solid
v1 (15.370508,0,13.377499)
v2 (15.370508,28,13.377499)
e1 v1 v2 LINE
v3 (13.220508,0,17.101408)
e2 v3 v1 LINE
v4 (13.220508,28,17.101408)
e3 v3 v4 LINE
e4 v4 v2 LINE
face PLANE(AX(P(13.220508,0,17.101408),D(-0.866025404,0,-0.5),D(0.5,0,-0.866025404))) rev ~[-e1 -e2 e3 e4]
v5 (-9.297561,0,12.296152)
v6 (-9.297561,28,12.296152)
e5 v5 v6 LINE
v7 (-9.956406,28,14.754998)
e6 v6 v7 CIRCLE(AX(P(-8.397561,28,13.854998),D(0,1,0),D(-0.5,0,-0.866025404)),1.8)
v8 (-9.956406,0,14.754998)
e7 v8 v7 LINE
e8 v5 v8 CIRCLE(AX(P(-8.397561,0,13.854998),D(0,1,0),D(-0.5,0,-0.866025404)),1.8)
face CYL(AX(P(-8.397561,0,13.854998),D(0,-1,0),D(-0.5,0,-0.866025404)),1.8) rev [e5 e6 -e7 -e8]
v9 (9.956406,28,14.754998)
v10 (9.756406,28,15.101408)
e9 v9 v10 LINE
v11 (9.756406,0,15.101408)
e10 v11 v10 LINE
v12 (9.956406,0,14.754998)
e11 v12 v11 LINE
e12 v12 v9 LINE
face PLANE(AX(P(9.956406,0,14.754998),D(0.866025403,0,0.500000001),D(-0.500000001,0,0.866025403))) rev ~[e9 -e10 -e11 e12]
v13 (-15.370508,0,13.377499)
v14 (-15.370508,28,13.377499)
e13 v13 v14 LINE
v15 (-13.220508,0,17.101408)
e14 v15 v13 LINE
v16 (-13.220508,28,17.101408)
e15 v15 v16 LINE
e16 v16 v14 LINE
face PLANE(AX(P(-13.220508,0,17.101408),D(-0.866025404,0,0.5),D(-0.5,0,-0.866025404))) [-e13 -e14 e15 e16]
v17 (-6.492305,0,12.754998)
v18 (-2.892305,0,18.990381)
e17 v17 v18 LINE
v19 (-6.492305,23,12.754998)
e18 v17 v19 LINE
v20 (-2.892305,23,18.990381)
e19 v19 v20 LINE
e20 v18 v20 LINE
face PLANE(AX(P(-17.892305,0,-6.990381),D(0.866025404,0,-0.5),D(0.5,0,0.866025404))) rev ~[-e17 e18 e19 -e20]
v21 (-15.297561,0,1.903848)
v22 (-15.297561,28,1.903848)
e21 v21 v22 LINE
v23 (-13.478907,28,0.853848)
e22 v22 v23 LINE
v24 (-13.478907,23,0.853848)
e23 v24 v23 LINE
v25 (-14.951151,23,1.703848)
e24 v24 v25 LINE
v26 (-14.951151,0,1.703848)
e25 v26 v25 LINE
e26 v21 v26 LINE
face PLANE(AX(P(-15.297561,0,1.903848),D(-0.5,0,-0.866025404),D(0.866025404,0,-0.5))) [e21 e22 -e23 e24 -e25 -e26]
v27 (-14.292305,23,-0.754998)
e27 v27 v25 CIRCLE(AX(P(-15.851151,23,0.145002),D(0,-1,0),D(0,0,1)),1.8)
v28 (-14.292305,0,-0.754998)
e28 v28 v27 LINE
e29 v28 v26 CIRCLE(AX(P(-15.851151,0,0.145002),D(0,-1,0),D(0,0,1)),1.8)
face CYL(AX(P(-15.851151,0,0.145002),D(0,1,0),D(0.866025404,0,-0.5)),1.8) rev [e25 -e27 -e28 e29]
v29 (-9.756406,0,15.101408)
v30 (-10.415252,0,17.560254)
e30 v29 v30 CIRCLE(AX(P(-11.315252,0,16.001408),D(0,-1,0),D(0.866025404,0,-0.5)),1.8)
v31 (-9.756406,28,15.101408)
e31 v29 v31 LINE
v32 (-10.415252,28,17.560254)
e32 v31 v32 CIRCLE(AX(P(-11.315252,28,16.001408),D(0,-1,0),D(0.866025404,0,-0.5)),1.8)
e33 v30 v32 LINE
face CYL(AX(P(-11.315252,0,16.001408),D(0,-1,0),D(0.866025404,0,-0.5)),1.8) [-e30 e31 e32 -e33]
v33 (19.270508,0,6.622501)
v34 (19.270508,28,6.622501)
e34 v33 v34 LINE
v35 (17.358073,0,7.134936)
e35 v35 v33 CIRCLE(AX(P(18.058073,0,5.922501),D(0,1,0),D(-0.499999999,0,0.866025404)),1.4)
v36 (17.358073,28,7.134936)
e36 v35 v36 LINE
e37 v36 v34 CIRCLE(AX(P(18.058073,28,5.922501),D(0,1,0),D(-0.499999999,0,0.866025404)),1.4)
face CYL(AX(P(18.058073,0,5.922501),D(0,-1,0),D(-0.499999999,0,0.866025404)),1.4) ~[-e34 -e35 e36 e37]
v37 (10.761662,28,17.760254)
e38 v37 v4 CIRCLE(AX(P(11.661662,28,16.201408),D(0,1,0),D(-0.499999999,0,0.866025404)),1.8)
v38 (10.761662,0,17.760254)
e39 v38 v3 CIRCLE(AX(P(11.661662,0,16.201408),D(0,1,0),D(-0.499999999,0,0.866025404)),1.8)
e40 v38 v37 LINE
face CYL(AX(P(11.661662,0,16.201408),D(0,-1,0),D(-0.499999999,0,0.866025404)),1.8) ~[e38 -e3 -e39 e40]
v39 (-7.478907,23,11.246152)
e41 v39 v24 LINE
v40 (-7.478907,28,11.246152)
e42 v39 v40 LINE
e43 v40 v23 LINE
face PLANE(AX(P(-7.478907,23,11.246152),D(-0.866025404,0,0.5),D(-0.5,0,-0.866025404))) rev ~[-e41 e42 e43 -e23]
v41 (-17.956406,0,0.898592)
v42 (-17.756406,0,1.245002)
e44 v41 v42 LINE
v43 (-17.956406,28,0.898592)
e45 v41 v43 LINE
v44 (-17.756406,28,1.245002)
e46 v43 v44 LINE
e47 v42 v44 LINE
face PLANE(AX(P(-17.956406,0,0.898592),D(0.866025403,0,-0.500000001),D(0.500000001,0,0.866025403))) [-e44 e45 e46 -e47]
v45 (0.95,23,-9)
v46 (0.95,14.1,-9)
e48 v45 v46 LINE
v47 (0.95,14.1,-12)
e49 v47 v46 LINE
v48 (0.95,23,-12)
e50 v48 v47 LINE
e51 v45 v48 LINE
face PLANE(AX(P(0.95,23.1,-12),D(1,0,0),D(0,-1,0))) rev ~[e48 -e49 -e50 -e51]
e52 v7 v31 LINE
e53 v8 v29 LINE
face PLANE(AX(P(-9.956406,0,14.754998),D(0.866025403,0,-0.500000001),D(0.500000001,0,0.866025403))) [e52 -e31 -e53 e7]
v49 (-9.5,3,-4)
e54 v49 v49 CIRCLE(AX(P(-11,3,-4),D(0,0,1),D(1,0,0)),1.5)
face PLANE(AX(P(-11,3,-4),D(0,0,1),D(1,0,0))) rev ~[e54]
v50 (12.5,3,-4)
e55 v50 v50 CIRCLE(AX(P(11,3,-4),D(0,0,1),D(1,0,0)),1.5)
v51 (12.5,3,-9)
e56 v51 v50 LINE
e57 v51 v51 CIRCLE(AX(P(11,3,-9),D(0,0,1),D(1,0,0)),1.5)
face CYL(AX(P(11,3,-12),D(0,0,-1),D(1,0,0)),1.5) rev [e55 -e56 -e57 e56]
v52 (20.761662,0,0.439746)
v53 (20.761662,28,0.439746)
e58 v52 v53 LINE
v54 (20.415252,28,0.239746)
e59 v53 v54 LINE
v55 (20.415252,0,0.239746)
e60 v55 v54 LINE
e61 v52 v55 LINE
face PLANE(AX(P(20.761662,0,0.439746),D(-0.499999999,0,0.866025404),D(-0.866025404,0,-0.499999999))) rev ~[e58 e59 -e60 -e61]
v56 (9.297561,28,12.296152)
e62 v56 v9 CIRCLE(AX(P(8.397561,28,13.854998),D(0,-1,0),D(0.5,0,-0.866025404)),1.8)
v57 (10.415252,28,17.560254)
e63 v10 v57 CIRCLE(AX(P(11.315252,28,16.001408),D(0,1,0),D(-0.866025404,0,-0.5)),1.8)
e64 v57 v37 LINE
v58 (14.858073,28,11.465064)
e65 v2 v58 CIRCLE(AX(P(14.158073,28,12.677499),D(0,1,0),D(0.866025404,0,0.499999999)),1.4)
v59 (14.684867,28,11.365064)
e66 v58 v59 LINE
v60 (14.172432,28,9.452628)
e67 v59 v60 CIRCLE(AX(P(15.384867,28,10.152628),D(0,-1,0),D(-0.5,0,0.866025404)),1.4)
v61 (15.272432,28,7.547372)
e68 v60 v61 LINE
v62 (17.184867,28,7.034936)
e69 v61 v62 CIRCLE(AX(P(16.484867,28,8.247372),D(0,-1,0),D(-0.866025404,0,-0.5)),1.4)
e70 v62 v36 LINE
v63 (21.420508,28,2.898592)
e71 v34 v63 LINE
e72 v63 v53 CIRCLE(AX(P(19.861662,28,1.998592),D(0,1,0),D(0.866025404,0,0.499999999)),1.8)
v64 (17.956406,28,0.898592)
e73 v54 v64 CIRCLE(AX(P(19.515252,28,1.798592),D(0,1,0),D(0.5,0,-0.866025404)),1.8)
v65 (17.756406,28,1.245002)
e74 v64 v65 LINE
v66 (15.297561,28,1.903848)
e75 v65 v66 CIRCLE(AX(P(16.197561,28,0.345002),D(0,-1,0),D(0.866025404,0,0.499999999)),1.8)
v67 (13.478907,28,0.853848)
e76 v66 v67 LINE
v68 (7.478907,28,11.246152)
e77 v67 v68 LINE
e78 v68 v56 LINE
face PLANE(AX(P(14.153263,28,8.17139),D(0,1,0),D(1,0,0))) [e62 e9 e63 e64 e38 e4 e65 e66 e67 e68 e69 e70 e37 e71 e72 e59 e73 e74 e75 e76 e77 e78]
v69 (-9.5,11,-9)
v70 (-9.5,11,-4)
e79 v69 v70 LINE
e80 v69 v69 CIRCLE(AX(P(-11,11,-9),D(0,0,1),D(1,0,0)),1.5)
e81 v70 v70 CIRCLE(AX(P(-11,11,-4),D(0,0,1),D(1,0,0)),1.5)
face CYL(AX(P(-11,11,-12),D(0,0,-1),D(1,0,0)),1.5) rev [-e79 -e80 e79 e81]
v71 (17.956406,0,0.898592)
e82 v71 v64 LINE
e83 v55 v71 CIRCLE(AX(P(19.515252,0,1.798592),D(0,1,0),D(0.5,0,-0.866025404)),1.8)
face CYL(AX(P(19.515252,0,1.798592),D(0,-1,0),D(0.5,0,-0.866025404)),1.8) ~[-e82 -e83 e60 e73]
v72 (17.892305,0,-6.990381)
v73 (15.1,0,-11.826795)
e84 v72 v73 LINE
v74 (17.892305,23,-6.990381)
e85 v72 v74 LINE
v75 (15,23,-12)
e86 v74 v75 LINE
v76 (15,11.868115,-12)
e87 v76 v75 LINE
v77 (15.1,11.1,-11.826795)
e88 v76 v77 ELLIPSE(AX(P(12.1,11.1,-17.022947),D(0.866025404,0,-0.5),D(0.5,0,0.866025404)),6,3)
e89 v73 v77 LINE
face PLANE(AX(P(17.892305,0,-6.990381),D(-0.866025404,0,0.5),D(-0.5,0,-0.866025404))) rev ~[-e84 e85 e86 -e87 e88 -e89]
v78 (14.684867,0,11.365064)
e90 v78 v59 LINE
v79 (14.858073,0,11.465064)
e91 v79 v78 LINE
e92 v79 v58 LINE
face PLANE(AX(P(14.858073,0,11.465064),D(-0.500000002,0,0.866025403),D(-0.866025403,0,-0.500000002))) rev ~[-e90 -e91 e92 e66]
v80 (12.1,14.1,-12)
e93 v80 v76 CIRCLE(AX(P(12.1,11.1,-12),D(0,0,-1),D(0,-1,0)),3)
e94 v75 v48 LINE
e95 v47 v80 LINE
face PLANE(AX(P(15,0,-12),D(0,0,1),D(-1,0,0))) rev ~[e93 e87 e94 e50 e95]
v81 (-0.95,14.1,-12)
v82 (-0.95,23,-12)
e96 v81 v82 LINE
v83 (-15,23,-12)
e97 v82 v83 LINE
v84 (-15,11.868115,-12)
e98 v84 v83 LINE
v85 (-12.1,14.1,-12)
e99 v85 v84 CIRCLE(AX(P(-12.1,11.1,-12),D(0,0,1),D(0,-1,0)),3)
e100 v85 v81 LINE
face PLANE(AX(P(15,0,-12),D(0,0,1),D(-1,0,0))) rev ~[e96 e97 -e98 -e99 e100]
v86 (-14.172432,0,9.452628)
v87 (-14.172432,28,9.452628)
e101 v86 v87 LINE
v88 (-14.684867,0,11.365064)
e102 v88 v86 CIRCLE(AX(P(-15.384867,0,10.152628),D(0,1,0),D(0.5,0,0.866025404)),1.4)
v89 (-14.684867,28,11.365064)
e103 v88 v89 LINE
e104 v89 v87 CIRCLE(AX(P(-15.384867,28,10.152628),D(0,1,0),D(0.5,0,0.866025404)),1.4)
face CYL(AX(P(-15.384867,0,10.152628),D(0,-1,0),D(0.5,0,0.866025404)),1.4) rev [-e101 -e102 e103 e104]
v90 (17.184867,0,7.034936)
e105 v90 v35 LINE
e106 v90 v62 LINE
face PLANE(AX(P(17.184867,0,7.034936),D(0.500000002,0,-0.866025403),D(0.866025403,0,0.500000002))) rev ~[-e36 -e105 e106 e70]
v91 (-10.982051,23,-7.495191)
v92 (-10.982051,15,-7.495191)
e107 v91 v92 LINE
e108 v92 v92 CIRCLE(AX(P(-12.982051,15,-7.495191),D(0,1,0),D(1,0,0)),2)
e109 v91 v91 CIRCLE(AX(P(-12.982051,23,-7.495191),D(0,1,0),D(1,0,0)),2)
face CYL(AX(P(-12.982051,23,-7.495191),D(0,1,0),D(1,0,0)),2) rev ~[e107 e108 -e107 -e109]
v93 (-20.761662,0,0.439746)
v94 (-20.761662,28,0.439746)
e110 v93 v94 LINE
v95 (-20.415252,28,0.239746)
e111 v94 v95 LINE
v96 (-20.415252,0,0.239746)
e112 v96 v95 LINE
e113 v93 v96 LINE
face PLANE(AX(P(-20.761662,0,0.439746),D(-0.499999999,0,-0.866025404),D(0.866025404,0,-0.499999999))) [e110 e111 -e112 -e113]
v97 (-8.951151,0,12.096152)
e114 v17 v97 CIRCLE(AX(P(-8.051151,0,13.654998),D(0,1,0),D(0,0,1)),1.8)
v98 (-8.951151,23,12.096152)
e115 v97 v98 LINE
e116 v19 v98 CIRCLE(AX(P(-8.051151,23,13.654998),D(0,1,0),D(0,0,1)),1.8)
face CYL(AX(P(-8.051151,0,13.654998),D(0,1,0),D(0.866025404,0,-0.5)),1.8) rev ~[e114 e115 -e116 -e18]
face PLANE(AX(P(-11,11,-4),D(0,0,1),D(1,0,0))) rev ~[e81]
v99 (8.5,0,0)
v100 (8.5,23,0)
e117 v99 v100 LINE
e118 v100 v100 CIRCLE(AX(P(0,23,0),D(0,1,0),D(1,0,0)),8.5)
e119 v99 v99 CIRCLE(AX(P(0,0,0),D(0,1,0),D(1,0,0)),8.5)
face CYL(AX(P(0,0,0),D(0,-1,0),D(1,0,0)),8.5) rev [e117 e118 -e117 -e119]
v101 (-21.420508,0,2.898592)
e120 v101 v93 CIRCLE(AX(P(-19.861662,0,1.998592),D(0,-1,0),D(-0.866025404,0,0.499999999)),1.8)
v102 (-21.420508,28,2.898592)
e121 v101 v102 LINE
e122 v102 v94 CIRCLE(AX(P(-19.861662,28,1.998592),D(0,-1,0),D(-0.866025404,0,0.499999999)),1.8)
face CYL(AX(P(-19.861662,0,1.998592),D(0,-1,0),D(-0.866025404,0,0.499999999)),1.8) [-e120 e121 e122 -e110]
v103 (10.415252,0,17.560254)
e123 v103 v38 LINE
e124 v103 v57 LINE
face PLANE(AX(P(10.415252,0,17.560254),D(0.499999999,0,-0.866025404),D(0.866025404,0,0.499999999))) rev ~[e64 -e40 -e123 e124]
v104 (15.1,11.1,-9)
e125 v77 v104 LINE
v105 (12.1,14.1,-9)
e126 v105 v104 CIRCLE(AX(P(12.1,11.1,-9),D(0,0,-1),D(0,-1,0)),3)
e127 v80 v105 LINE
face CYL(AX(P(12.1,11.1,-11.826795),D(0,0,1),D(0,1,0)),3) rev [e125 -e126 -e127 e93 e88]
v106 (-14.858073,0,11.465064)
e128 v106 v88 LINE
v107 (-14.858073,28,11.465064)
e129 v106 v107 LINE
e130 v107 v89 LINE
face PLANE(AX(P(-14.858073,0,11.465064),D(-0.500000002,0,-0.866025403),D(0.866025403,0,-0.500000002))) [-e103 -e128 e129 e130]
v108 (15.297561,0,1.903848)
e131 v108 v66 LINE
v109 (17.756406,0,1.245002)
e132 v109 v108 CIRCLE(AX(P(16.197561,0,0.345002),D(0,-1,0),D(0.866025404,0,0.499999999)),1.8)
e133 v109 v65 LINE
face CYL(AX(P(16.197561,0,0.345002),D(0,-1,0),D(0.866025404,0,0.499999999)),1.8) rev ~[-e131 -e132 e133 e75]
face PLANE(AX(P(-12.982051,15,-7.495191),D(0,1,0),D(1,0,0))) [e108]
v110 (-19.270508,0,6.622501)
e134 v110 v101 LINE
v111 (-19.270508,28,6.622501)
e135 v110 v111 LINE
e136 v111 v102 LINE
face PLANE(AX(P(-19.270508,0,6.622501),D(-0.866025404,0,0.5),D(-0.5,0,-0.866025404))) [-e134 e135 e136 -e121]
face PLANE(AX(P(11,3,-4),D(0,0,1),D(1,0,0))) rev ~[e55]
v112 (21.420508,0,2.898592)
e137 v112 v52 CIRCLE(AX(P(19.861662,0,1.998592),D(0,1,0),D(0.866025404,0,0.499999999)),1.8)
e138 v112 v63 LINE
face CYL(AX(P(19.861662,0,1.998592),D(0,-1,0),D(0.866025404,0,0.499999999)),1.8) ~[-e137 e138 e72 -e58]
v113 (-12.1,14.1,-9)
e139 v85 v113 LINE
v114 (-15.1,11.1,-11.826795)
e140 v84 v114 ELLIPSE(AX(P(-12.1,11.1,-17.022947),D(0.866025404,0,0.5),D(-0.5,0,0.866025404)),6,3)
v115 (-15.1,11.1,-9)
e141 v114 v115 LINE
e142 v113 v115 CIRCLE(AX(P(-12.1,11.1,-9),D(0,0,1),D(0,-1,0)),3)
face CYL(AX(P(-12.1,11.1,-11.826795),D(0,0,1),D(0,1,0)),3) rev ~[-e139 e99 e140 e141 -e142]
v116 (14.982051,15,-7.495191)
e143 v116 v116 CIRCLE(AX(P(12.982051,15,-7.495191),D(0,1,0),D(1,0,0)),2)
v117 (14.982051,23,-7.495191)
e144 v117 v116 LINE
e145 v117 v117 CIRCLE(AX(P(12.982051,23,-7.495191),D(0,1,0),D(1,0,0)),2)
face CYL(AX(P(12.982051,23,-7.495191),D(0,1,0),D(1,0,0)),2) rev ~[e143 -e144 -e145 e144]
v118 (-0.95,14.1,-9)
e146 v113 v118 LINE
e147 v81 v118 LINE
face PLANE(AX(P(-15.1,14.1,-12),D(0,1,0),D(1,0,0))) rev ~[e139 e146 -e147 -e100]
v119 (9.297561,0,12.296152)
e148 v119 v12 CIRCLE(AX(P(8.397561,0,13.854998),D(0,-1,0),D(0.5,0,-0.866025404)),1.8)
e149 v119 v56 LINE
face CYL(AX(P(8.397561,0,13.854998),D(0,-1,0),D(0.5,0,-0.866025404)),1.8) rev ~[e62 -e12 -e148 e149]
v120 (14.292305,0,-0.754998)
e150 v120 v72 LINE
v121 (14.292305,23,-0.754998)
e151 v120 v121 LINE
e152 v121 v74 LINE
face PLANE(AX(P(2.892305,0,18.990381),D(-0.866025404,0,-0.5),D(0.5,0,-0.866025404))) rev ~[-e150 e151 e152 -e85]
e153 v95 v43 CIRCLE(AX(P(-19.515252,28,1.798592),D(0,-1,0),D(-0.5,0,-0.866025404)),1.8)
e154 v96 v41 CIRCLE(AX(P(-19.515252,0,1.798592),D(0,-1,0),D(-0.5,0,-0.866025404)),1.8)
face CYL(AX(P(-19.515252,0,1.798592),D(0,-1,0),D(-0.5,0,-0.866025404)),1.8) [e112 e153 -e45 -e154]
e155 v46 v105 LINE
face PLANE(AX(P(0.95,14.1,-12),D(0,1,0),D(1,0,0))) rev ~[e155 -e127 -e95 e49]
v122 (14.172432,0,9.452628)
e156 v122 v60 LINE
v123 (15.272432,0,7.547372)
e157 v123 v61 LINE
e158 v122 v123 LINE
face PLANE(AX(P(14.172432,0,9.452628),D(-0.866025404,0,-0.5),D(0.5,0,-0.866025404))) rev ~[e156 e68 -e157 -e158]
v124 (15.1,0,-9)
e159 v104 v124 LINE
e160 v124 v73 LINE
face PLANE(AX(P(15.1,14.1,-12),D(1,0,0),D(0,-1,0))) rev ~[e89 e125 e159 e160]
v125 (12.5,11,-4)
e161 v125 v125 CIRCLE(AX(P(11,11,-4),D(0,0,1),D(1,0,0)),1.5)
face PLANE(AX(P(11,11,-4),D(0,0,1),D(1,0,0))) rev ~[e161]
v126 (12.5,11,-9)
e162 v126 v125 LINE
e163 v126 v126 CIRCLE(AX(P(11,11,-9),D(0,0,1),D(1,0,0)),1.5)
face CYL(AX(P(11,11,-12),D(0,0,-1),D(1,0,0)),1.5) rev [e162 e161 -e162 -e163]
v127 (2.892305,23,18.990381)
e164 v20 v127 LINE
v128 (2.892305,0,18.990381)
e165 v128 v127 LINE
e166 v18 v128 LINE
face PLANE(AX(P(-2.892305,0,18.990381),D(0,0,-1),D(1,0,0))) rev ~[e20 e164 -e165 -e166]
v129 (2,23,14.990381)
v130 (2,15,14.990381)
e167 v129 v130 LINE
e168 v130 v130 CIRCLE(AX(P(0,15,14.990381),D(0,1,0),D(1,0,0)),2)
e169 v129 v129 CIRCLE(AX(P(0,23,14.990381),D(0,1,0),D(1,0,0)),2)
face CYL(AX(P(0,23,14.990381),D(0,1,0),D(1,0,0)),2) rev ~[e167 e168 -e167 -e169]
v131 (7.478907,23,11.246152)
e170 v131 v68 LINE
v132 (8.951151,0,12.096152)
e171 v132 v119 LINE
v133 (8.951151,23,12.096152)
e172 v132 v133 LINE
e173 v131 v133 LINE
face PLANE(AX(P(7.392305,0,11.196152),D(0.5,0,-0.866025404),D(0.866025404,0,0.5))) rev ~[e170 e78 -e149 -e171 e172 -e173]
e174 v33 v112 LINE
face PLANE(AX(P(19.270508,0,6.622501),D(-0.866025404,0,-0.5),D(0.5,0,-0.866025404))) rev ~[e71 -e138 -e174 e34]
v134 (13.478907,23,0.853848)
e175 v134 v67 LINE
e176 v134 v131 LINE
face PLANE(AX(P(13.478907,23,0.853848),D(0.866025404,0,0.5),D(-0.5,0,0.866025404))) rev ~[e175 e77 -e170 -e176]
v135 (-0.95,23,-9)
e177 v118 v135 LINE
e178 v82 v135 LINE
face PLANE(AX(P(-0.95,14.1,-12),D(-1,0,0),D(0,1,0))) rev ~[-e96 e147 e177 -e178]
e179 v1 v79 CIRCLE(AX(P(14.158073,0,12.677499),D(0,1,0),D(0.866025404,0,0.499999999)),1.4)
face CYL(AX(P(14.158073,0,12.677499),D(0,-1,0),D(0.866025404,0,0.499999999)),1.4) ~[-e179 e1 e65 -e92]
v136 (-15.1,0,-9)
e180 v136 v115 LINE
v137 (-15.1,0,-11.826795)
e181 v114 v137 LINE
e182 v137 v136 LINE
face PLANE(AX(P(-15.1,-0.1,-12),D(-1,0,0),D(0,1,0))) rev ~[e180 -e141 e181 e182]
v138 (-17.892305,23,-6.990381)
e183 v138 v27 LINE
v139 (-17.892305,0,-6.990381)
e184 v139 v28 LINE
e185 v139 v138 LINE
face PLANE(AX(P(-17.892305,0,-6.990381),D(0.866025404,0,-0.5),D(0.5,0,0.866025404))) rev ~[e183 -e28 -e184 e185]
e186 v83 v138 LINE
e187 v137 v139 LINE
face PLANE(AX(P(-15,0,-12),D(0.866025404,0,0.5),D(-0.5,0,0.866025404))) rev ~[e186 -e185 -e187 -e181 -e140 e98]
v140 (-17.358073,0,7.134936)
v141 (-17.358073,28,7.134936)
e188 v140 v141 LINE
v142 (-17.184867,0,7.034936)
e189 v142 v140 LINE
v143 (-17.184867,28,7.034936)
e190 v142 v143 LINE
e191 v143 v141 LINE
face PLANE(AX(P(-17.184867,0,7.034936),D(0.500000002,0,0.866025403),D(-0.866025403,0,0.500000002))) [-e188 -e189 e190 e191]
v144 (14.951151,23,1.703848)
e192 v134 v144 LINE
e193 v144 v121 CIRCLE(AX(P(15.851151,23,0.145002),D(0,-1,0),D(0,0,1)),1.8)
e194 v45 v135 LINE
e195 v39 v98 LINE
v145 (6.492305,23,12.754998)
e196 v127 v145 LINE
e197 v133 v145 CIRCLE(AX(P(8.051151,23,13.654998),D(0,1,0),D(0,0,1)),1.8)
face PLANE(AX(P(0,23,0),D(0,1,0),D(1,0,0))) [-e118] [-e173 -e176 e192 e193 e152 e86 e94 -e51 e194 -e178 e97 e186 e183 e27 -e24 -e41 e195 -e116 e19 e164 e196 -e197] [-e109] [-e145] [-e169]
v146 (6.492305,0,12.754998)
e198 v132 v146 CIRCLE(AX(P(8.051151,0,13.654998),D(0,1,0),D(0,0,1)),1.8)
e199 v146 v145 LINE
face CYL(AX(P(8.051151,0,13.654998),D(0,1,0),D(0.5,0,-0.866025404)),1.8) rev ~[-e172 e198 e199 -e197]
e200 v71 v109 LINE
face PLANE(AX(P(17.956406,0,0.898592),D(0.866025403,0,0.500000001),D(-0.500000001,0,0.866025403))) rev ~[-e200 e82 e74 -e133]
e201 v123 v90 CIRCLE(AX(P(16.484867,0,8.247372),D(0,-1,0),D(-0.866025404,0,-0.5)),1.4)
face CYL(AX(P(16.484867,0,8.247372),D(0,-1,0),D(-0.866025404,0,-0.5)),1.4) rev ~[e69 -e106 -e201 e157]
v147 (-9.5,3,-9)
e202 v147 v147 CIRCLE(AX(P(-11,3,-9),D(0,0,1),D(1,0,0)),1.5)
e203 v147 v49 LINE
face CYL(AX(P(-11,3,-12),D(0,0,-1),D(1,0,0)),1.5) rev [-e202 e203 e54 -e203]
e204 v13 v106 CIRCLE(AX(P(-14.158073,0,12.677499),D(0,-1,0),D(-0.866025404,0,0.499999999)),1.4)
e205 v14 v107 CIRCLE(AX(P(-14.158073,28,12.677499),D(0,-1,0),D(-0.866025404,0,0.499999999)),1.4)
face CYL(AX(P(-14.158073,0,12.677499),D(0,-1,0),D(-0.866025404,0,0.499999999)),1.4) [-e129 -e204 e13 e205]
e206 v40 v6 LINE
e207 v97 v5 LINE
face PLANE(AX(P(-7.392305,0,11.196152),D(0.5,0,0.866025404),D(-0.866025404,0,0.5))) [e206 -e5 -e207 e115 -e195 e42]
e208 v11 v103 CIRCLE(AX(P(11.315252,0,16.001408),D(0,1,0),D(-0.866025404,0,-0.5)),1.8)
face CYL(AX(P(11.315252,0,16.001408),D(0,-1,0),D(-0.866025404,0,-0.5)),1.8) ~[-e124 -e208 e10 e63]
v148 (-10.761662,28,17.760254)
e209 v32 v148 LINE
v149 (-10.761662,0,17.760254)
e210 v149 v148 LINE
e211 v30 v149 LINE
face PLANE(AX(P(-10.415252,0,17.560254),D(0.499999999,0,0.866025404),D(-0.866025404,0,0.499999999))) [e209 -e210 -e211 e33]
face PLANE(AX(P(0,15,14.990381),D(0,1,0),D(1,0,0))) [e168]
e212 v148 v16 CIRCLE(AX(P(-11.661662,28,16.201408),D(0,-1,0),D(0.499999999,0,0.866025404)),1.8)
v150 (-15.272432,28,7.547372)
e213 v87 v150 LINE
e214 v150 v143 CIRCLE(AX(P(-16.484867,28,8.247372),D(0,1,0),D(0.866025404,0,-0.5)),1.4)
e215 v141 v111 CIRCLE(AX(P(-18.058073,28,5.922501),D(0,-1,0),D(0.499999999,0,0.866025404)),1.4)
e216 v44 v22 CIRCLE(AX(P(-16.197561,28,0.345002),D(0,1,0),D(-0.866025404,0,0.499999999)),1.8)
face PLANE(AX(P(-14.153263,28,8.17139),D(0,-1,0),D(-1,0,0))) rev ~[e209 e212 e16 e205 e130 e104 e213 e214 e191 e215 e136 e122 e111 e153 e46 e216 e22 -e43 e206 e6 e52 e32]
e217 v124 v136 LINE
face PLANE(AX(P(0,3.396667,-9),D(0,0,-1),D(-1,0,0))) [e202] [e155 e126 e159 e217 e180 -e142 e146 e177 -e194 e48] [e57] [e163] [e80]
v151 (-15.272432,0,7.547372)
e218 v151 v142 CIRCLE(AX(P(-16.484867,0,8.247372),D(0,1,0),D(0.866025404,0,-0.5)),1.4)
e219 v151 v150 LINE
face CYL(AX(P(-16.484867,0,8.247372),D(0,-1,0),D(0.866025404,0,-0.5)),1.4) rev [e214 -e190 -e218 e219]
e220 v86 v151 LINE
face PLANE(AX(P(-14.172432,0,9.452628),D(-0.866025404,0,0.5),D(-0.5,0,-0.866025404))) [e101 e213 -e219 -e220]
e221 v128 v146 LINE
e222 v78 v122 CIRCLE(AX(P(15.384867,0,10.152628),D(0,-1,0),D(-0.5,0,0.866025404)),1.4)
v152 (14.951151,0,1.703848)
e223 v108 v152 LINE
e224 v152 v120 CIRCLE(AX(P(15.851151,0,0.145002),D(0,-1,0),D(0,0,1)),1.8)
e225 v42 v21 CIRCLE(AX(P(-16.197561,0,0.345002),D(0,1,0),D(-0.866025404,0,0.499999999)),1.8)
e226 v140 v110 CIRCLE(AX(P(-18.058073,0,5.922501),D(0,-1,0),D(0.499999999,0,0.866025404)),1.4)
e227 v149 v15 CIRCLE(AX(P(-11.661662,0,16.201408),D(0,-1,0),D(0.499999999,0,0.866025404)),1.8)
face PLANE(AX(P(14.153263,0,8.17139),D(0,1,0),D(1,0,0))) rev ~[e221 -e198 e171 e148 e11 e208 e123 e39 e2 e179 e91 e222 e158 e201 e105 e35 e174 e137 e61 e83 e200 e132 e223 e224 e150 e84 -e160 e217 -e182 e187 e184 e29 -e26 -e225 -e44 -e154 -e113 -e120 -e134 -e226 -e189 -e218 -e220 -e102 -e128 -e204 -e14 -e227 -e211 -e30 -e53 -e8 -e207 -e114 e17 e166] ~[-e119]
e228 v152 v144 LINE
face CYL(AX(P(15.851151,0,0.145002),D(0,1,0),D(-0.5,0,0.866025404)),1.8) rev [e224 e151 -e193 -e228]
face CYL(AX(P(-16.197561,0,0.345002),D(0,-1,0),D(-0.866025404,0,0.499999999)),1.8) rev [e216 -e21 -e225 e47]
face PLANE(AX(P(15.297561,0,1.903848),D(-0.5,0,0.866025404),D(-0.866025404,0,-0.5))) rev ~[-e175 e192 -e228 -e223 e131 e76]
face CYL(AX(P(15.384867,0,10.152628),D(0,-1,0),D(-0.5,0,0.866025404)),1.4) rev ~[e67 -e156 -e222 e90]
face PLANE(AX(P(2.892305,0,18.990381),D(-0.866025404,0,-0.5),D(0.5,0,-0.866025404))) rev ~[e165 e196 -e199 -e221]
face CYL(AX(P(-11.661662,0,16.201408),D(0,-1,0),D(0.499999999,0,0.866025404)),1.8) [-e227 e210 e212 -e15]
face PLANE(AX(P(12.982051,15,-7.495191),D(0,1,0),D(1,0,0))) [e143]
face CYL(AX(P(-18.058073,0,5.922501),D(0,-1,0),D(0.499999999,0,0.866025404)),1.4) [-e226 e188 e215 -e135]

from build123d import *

# Parameters (mm, degrees)
ESQUISSE2_R                  = 8.5
BOSS_EXTRU_1_DEPTH           = 23
ENL_V_START                  = 23
ESQUISSE3_R                  = 2
ENL_V_MAT_EXTRU_3_DEPTH      = 24
ENL_V_MAT_EXTRU_3_DEPTH_BACK = 8
ENL_V_START_2                = -12
ESQUISSE4_R                  = 1.5
ENL_V_MAT_EXTRU_4_DEPTH      = 8
BOSS_EXTRU_2_DEPTH           = 28
CONG_5_R                     = 1.8
ENL_V_MAT_EXTRU_5_DEPTH      = 5
ESQUISSE7_R                  = 1.5
ESQUISSE7_W                  = 1.9
ESQUISSE7_H                  = 0.1
ENL_V_MAT_EXTRU_6_DEPTH      = 3
CONG_6_R                     = 3


with BuildPart() as part:
    # Esquisse2 → Boss.-Extru.1 (new body)
    with BuildSketch(Plane(origin=(0, 0, 0), x_dir=(1, 0, 0), z_dir=(0, 1, 0))):
        Polygon((15, 12), (-15, 12), (-17.892304845, 6.990381057), (-2.892304845, -18.990381057), (2.892304845, -18.990381057), (17.892304845, 6.990381057), align=None)
        Circle(ESQUISSE2_R, mode=Mode.SUBTRACT)
    extrude(amount=BOSS_EXTRU_1_DEPTH)

    # Esquisse3 → Enlèv. mat.-Extru.3 (cut, two sides)
    with BuildSketch(Plane(origin=(0, 0, 0), x_dir=(1, 0, 0), z_dir=(0, 1, 0)).offset(ENL_V_START)) as enl_v_mat_extru_3_sk:
        with Locations((-12.982050808, 7.495190528)):
            Circle(ESQUISSE3_R)
        with Locations((12.982050808, 7.495190528)):
            Circle(ESQUISSE3_R)
        with Locations((0, -14.990381057)):
            Circle(ESQUISSE3_R)
    extrude(amount=ENL_V_MAT_EXTRU_3_DEPTH, mode=Mode.SUBTRACT)
    extrude(enl_v_mat_extru_3_sk.sketch, amount=-ENL_V_MAT_EXTRU_3_DEPTH_BACK, mode=Mode.SUBTRACT)

    # Esquisse4 → Enlèv. mat.-Extru.4 (cut)
    with BuildSketch(Plane.XY.offset(ENL_V_START_2)):
        with Locations((-11, 11)):
            Circle(ESQUISSE4_R)
        with Locations((11, 11)):
            Circle(ESQUISSE4_R)
        with Locations((11, 3)):
            Circle(ESQUISSE4_R)
        with Locations((-11, 3)):
            Circle(ESQUISSE4_R)
    extrude(amount=ENL_V_MAT_EXTRU_4_DEPTH, mode=Mode.SUBTRACT)

    # Esquisse5 → Boss.-Extru.2 (add)
    with BuildSketch(Plane(origin=(0, 0, 0), x_dir=(1, 0, 0), z_dir=(0, 1, 0))):
        with BuildLine():
            Line((13.220508076, -17.101408311), (15.370508076, -13.377499075))
            ThreePointArc((15.370508076, -13.377499075), (15.510368667, -12.315152412), (14.85807251, -11.465063509))
            Line((14.85807251, -11.465063509), (14.68486743, -11.365063509))
            ThreePointArc((14.68486743, -11.365063509), (14.032571273, -10.514974607), (14.172431864, -9.452627944))
            Line((14.172431864, -9.452627944), (15.272431864, -7.547372056))
            ThreePointArc((15.272431864, -7.547372056), (16.122520766, -6.895075899), (17.18486743, -7.034936491))
            Line((17.18486743, -7.034936491), (17.35807251, -7.134936491))
            ThreePointArc((17.35807251, -7.134936491), (18.420419174, -7.274797082), (19.270508076, -6.622500925))
            Line((19.270508076, -6.622500925), (21.420508076, -2.898591689))
            ThreePointArc((21.420508076, -2.898591689), (21.600328836, -1.532717408), (20.761662349, -0.439745962))
            Line((20.761662349, -0.439745962), (20.415252187, -0.239745962))
            ThreePointArc((20.415252187, -0.239745962), (19.049377906, -0.059925202), (17.956406461, -0.898591689))
            Line((17.956406461, -0.898591689), (17.756406461, -1.24500185))
            ThreePointArc((17.756406461, -1.24500185), (16.663435015, -2.083668338), (15.297560734, -1.903847577))
            Line((15.297560734, -1.903847577), (13.392304845, -0.803847577))
            Line((13.392304845, -0.803847577), (7.392304845, -11.196152423))
            Line((7.392304845, -11.196152423), (9.297560734, -12.296152423))
            ThreePointArc((9.297560734, -12.296152423), (10.136227221, -13.389123868), (9.956406461, -14.75499815))
            Line((9.956406461, -14.75499815), (9.756406461, -15.101408311))
            ThreePointArc((9.756406461, -15.101408311), (9.5765857, -16.467282592), (10.415252187, -17.560254038))
            Line((10.415252187, -17.560254038), (10.761662349, -17.760254038))
            ThreePointArc((10.761662349, -17.760254038), (12.12753663, -17.940074798), (13.220508076, -17.101408311))
        make_face()
        with BuildLine():
            Line((-19.270508076, -6.622500925), (-21.420508076, -2.898591689))
            ThreePointArc((-21.420508076, -2.898591689), (-21.600328836, -1.532717408), (-20.761662349, -0.439745962))
            Line((-20.761662349, -0.439745962), (-20.415252187, -0.239745962))
            ThreePointArc((-20.415252187, -0.239745962), (-19.049377906, -0.059925202), (-17.956406461, -0.898591689))
            Line((-17.956406461, -0.898591689), (-17.756406461, -1.24500185))
            ThreePointArc((-17.756406461, -1.24500185), (-16.663435015, -2.083668338), (-15.297560734, -1.903847577))
            Line((-15.297560734, -1.903847577), (-13.392304845, -0.803847577))
            Line((-13.392304845, -0.803847577), (-7.392304845, -11.196152423))
            Line((-7.392304845, -11.196152423), (-9.297560734, -12.296152423))
            ThreePointArc((-9.297560734, -12.296152423), (-10.136227221, -13.389123868), (-9.956406461, -14.75499815))
            Line((-9.956406461, -14.75499815), (-9.756406461, -15.101408311))
            ThreePointArc((-9.756406461, -15.101408311), (-9.5765857, -16.467282592), (-10.415252187, -17.560254038))
            Line((-10.415252187, -17.560254038), (-10.761662349, -17.760254038))
            ThreePointArc((-10.761662349, -17.760254038), (-12.12753663, -17.940074798), (-13.220508076, -17.101408311))
            Line((-13.220508076, -17.101408311), (-15.370508076, -13.377499075))
            ThreePointArc((-15.370508076, -13.377499075), (-15.510368667, -12.315152412), (-14.85807251, -11.465063509))
            Line((-14.85807251, -11.465063509), (-14.68486743, -11.365063509))
            ThreePointArc((-14.68486743, -11.365063509), (-14.032571273, -10.514974607), (-14.172431864, -9.452627944))
            Line((-14.172431864, -9.452627944), (-15.272431864, -7.547372056))
            ThreePointArc((-15.272431864, -7.547372056), (-16.122520766, -6.895075899), (-17.18486743, -7.034936491))
            Line((-17.18486743, -7.034936491), (-17.35807251, -7.134936491))
            ThreePointArc((-17.35807251, -7.134936491), (-18.420419174, -7.274797082), (-19.270508076, -6.622500925))
        make_face()
    extrude(amount=BOSS_EXTRU_2_DEPTH)

    # Congé5
    cong_5_edges = [part.edges().sort_by_distance(p)[0] for p in [
        (-7.392304845, 11.5, 11.196152423),
        (7.392304845, 11.5, 11.196152423),
        (13.392304845, 11.5, 0.803847577),
        (-13.392304845, 11.5, 0.803847577),
    ]]
    fillet(cong_5_edges, radius=CONG_5_R)

    # Esquisse6 → Enlèv. mat.-Extru.5 (cut)
    with BuildSketch(Plane(origin=(0, 0, 0), x_dir=(1, 0, 0), z_dir=(0, 1, 0)).offset(ENL_V_START)):
        Polygon((-13.392304845, -0.803847577), (-7.392304845, -11.196152423), (-7.478907386, -11.246152423), (-13.478907386, -0.853847577), align=None)
        Polygon((7.392304845, -11.196152423), (13.392304845, -0.803847577), (13.478907386, -0.853847577), (7.478907386, -11.246152423), align=None)
    extrude(amount=ENL_V_MAT_EXTRU_5_DEPTH, mode=Mode.SUBTRACT)

    # Esquisse7 → Enlèv. mat.-Extru.6 (cut)
    with BuildSketch(Plane(origin=(0, 0, -12), x_dir=(-1, 0, 0), z_dir=(0, 0, -1))):
        Polygon((15, 0), (0.85, 0), (-0.85, 0), (-15, 0), (-15, 14.1), (-15.1, 14.1), (-15.1, -0.1), (15.1, -0.1), (15.1, 14.1), (15, 14.1), align=None)
        Polygon((-0.85, 0), (0.85, 0), (15, 0), (15, 14.1), (0.95, 14.1), (0.95, 23), (-0.95, 23), (-0.95, 14.1), (-15, 14.1), (-15, 0), align=None)
        with Locations((-11, 3)):
            Circle(ESQUISSE7_R, mode=Mode.SUBTRACT)
        with Locations((-11, 11)):
            Circle(ESQUISSE7_R, mode=Mode.SUBTRACT)
        with Locations((11, 3)):
            Circle(ESQUISSE7_R, mode=Mode.SUBTRACT)
        with Locations((11, 11)):
            Circle(ESQUISSE7_R, mode=Mode.SUBTRACT)
        with Locations((0, 23.05)):
            Rectangle(ESQUISSE7_W, ESQUISSE7_H)
    extrude(amount=-ENL_V_MAT_EXTRU_6_DEPTH, mode=Mode.SUBTRACT)

    # Congé6
    cong_6_edges = [part.edges().sort_by_distance(p)[0] for p in [
        (-15.1, 14.1, -10.41339746),
        (15.1, 14.1, -10.41339746),
    ]]
    fillet(cong_6_edges, radius=CONG_6_R)


solid = part.part
